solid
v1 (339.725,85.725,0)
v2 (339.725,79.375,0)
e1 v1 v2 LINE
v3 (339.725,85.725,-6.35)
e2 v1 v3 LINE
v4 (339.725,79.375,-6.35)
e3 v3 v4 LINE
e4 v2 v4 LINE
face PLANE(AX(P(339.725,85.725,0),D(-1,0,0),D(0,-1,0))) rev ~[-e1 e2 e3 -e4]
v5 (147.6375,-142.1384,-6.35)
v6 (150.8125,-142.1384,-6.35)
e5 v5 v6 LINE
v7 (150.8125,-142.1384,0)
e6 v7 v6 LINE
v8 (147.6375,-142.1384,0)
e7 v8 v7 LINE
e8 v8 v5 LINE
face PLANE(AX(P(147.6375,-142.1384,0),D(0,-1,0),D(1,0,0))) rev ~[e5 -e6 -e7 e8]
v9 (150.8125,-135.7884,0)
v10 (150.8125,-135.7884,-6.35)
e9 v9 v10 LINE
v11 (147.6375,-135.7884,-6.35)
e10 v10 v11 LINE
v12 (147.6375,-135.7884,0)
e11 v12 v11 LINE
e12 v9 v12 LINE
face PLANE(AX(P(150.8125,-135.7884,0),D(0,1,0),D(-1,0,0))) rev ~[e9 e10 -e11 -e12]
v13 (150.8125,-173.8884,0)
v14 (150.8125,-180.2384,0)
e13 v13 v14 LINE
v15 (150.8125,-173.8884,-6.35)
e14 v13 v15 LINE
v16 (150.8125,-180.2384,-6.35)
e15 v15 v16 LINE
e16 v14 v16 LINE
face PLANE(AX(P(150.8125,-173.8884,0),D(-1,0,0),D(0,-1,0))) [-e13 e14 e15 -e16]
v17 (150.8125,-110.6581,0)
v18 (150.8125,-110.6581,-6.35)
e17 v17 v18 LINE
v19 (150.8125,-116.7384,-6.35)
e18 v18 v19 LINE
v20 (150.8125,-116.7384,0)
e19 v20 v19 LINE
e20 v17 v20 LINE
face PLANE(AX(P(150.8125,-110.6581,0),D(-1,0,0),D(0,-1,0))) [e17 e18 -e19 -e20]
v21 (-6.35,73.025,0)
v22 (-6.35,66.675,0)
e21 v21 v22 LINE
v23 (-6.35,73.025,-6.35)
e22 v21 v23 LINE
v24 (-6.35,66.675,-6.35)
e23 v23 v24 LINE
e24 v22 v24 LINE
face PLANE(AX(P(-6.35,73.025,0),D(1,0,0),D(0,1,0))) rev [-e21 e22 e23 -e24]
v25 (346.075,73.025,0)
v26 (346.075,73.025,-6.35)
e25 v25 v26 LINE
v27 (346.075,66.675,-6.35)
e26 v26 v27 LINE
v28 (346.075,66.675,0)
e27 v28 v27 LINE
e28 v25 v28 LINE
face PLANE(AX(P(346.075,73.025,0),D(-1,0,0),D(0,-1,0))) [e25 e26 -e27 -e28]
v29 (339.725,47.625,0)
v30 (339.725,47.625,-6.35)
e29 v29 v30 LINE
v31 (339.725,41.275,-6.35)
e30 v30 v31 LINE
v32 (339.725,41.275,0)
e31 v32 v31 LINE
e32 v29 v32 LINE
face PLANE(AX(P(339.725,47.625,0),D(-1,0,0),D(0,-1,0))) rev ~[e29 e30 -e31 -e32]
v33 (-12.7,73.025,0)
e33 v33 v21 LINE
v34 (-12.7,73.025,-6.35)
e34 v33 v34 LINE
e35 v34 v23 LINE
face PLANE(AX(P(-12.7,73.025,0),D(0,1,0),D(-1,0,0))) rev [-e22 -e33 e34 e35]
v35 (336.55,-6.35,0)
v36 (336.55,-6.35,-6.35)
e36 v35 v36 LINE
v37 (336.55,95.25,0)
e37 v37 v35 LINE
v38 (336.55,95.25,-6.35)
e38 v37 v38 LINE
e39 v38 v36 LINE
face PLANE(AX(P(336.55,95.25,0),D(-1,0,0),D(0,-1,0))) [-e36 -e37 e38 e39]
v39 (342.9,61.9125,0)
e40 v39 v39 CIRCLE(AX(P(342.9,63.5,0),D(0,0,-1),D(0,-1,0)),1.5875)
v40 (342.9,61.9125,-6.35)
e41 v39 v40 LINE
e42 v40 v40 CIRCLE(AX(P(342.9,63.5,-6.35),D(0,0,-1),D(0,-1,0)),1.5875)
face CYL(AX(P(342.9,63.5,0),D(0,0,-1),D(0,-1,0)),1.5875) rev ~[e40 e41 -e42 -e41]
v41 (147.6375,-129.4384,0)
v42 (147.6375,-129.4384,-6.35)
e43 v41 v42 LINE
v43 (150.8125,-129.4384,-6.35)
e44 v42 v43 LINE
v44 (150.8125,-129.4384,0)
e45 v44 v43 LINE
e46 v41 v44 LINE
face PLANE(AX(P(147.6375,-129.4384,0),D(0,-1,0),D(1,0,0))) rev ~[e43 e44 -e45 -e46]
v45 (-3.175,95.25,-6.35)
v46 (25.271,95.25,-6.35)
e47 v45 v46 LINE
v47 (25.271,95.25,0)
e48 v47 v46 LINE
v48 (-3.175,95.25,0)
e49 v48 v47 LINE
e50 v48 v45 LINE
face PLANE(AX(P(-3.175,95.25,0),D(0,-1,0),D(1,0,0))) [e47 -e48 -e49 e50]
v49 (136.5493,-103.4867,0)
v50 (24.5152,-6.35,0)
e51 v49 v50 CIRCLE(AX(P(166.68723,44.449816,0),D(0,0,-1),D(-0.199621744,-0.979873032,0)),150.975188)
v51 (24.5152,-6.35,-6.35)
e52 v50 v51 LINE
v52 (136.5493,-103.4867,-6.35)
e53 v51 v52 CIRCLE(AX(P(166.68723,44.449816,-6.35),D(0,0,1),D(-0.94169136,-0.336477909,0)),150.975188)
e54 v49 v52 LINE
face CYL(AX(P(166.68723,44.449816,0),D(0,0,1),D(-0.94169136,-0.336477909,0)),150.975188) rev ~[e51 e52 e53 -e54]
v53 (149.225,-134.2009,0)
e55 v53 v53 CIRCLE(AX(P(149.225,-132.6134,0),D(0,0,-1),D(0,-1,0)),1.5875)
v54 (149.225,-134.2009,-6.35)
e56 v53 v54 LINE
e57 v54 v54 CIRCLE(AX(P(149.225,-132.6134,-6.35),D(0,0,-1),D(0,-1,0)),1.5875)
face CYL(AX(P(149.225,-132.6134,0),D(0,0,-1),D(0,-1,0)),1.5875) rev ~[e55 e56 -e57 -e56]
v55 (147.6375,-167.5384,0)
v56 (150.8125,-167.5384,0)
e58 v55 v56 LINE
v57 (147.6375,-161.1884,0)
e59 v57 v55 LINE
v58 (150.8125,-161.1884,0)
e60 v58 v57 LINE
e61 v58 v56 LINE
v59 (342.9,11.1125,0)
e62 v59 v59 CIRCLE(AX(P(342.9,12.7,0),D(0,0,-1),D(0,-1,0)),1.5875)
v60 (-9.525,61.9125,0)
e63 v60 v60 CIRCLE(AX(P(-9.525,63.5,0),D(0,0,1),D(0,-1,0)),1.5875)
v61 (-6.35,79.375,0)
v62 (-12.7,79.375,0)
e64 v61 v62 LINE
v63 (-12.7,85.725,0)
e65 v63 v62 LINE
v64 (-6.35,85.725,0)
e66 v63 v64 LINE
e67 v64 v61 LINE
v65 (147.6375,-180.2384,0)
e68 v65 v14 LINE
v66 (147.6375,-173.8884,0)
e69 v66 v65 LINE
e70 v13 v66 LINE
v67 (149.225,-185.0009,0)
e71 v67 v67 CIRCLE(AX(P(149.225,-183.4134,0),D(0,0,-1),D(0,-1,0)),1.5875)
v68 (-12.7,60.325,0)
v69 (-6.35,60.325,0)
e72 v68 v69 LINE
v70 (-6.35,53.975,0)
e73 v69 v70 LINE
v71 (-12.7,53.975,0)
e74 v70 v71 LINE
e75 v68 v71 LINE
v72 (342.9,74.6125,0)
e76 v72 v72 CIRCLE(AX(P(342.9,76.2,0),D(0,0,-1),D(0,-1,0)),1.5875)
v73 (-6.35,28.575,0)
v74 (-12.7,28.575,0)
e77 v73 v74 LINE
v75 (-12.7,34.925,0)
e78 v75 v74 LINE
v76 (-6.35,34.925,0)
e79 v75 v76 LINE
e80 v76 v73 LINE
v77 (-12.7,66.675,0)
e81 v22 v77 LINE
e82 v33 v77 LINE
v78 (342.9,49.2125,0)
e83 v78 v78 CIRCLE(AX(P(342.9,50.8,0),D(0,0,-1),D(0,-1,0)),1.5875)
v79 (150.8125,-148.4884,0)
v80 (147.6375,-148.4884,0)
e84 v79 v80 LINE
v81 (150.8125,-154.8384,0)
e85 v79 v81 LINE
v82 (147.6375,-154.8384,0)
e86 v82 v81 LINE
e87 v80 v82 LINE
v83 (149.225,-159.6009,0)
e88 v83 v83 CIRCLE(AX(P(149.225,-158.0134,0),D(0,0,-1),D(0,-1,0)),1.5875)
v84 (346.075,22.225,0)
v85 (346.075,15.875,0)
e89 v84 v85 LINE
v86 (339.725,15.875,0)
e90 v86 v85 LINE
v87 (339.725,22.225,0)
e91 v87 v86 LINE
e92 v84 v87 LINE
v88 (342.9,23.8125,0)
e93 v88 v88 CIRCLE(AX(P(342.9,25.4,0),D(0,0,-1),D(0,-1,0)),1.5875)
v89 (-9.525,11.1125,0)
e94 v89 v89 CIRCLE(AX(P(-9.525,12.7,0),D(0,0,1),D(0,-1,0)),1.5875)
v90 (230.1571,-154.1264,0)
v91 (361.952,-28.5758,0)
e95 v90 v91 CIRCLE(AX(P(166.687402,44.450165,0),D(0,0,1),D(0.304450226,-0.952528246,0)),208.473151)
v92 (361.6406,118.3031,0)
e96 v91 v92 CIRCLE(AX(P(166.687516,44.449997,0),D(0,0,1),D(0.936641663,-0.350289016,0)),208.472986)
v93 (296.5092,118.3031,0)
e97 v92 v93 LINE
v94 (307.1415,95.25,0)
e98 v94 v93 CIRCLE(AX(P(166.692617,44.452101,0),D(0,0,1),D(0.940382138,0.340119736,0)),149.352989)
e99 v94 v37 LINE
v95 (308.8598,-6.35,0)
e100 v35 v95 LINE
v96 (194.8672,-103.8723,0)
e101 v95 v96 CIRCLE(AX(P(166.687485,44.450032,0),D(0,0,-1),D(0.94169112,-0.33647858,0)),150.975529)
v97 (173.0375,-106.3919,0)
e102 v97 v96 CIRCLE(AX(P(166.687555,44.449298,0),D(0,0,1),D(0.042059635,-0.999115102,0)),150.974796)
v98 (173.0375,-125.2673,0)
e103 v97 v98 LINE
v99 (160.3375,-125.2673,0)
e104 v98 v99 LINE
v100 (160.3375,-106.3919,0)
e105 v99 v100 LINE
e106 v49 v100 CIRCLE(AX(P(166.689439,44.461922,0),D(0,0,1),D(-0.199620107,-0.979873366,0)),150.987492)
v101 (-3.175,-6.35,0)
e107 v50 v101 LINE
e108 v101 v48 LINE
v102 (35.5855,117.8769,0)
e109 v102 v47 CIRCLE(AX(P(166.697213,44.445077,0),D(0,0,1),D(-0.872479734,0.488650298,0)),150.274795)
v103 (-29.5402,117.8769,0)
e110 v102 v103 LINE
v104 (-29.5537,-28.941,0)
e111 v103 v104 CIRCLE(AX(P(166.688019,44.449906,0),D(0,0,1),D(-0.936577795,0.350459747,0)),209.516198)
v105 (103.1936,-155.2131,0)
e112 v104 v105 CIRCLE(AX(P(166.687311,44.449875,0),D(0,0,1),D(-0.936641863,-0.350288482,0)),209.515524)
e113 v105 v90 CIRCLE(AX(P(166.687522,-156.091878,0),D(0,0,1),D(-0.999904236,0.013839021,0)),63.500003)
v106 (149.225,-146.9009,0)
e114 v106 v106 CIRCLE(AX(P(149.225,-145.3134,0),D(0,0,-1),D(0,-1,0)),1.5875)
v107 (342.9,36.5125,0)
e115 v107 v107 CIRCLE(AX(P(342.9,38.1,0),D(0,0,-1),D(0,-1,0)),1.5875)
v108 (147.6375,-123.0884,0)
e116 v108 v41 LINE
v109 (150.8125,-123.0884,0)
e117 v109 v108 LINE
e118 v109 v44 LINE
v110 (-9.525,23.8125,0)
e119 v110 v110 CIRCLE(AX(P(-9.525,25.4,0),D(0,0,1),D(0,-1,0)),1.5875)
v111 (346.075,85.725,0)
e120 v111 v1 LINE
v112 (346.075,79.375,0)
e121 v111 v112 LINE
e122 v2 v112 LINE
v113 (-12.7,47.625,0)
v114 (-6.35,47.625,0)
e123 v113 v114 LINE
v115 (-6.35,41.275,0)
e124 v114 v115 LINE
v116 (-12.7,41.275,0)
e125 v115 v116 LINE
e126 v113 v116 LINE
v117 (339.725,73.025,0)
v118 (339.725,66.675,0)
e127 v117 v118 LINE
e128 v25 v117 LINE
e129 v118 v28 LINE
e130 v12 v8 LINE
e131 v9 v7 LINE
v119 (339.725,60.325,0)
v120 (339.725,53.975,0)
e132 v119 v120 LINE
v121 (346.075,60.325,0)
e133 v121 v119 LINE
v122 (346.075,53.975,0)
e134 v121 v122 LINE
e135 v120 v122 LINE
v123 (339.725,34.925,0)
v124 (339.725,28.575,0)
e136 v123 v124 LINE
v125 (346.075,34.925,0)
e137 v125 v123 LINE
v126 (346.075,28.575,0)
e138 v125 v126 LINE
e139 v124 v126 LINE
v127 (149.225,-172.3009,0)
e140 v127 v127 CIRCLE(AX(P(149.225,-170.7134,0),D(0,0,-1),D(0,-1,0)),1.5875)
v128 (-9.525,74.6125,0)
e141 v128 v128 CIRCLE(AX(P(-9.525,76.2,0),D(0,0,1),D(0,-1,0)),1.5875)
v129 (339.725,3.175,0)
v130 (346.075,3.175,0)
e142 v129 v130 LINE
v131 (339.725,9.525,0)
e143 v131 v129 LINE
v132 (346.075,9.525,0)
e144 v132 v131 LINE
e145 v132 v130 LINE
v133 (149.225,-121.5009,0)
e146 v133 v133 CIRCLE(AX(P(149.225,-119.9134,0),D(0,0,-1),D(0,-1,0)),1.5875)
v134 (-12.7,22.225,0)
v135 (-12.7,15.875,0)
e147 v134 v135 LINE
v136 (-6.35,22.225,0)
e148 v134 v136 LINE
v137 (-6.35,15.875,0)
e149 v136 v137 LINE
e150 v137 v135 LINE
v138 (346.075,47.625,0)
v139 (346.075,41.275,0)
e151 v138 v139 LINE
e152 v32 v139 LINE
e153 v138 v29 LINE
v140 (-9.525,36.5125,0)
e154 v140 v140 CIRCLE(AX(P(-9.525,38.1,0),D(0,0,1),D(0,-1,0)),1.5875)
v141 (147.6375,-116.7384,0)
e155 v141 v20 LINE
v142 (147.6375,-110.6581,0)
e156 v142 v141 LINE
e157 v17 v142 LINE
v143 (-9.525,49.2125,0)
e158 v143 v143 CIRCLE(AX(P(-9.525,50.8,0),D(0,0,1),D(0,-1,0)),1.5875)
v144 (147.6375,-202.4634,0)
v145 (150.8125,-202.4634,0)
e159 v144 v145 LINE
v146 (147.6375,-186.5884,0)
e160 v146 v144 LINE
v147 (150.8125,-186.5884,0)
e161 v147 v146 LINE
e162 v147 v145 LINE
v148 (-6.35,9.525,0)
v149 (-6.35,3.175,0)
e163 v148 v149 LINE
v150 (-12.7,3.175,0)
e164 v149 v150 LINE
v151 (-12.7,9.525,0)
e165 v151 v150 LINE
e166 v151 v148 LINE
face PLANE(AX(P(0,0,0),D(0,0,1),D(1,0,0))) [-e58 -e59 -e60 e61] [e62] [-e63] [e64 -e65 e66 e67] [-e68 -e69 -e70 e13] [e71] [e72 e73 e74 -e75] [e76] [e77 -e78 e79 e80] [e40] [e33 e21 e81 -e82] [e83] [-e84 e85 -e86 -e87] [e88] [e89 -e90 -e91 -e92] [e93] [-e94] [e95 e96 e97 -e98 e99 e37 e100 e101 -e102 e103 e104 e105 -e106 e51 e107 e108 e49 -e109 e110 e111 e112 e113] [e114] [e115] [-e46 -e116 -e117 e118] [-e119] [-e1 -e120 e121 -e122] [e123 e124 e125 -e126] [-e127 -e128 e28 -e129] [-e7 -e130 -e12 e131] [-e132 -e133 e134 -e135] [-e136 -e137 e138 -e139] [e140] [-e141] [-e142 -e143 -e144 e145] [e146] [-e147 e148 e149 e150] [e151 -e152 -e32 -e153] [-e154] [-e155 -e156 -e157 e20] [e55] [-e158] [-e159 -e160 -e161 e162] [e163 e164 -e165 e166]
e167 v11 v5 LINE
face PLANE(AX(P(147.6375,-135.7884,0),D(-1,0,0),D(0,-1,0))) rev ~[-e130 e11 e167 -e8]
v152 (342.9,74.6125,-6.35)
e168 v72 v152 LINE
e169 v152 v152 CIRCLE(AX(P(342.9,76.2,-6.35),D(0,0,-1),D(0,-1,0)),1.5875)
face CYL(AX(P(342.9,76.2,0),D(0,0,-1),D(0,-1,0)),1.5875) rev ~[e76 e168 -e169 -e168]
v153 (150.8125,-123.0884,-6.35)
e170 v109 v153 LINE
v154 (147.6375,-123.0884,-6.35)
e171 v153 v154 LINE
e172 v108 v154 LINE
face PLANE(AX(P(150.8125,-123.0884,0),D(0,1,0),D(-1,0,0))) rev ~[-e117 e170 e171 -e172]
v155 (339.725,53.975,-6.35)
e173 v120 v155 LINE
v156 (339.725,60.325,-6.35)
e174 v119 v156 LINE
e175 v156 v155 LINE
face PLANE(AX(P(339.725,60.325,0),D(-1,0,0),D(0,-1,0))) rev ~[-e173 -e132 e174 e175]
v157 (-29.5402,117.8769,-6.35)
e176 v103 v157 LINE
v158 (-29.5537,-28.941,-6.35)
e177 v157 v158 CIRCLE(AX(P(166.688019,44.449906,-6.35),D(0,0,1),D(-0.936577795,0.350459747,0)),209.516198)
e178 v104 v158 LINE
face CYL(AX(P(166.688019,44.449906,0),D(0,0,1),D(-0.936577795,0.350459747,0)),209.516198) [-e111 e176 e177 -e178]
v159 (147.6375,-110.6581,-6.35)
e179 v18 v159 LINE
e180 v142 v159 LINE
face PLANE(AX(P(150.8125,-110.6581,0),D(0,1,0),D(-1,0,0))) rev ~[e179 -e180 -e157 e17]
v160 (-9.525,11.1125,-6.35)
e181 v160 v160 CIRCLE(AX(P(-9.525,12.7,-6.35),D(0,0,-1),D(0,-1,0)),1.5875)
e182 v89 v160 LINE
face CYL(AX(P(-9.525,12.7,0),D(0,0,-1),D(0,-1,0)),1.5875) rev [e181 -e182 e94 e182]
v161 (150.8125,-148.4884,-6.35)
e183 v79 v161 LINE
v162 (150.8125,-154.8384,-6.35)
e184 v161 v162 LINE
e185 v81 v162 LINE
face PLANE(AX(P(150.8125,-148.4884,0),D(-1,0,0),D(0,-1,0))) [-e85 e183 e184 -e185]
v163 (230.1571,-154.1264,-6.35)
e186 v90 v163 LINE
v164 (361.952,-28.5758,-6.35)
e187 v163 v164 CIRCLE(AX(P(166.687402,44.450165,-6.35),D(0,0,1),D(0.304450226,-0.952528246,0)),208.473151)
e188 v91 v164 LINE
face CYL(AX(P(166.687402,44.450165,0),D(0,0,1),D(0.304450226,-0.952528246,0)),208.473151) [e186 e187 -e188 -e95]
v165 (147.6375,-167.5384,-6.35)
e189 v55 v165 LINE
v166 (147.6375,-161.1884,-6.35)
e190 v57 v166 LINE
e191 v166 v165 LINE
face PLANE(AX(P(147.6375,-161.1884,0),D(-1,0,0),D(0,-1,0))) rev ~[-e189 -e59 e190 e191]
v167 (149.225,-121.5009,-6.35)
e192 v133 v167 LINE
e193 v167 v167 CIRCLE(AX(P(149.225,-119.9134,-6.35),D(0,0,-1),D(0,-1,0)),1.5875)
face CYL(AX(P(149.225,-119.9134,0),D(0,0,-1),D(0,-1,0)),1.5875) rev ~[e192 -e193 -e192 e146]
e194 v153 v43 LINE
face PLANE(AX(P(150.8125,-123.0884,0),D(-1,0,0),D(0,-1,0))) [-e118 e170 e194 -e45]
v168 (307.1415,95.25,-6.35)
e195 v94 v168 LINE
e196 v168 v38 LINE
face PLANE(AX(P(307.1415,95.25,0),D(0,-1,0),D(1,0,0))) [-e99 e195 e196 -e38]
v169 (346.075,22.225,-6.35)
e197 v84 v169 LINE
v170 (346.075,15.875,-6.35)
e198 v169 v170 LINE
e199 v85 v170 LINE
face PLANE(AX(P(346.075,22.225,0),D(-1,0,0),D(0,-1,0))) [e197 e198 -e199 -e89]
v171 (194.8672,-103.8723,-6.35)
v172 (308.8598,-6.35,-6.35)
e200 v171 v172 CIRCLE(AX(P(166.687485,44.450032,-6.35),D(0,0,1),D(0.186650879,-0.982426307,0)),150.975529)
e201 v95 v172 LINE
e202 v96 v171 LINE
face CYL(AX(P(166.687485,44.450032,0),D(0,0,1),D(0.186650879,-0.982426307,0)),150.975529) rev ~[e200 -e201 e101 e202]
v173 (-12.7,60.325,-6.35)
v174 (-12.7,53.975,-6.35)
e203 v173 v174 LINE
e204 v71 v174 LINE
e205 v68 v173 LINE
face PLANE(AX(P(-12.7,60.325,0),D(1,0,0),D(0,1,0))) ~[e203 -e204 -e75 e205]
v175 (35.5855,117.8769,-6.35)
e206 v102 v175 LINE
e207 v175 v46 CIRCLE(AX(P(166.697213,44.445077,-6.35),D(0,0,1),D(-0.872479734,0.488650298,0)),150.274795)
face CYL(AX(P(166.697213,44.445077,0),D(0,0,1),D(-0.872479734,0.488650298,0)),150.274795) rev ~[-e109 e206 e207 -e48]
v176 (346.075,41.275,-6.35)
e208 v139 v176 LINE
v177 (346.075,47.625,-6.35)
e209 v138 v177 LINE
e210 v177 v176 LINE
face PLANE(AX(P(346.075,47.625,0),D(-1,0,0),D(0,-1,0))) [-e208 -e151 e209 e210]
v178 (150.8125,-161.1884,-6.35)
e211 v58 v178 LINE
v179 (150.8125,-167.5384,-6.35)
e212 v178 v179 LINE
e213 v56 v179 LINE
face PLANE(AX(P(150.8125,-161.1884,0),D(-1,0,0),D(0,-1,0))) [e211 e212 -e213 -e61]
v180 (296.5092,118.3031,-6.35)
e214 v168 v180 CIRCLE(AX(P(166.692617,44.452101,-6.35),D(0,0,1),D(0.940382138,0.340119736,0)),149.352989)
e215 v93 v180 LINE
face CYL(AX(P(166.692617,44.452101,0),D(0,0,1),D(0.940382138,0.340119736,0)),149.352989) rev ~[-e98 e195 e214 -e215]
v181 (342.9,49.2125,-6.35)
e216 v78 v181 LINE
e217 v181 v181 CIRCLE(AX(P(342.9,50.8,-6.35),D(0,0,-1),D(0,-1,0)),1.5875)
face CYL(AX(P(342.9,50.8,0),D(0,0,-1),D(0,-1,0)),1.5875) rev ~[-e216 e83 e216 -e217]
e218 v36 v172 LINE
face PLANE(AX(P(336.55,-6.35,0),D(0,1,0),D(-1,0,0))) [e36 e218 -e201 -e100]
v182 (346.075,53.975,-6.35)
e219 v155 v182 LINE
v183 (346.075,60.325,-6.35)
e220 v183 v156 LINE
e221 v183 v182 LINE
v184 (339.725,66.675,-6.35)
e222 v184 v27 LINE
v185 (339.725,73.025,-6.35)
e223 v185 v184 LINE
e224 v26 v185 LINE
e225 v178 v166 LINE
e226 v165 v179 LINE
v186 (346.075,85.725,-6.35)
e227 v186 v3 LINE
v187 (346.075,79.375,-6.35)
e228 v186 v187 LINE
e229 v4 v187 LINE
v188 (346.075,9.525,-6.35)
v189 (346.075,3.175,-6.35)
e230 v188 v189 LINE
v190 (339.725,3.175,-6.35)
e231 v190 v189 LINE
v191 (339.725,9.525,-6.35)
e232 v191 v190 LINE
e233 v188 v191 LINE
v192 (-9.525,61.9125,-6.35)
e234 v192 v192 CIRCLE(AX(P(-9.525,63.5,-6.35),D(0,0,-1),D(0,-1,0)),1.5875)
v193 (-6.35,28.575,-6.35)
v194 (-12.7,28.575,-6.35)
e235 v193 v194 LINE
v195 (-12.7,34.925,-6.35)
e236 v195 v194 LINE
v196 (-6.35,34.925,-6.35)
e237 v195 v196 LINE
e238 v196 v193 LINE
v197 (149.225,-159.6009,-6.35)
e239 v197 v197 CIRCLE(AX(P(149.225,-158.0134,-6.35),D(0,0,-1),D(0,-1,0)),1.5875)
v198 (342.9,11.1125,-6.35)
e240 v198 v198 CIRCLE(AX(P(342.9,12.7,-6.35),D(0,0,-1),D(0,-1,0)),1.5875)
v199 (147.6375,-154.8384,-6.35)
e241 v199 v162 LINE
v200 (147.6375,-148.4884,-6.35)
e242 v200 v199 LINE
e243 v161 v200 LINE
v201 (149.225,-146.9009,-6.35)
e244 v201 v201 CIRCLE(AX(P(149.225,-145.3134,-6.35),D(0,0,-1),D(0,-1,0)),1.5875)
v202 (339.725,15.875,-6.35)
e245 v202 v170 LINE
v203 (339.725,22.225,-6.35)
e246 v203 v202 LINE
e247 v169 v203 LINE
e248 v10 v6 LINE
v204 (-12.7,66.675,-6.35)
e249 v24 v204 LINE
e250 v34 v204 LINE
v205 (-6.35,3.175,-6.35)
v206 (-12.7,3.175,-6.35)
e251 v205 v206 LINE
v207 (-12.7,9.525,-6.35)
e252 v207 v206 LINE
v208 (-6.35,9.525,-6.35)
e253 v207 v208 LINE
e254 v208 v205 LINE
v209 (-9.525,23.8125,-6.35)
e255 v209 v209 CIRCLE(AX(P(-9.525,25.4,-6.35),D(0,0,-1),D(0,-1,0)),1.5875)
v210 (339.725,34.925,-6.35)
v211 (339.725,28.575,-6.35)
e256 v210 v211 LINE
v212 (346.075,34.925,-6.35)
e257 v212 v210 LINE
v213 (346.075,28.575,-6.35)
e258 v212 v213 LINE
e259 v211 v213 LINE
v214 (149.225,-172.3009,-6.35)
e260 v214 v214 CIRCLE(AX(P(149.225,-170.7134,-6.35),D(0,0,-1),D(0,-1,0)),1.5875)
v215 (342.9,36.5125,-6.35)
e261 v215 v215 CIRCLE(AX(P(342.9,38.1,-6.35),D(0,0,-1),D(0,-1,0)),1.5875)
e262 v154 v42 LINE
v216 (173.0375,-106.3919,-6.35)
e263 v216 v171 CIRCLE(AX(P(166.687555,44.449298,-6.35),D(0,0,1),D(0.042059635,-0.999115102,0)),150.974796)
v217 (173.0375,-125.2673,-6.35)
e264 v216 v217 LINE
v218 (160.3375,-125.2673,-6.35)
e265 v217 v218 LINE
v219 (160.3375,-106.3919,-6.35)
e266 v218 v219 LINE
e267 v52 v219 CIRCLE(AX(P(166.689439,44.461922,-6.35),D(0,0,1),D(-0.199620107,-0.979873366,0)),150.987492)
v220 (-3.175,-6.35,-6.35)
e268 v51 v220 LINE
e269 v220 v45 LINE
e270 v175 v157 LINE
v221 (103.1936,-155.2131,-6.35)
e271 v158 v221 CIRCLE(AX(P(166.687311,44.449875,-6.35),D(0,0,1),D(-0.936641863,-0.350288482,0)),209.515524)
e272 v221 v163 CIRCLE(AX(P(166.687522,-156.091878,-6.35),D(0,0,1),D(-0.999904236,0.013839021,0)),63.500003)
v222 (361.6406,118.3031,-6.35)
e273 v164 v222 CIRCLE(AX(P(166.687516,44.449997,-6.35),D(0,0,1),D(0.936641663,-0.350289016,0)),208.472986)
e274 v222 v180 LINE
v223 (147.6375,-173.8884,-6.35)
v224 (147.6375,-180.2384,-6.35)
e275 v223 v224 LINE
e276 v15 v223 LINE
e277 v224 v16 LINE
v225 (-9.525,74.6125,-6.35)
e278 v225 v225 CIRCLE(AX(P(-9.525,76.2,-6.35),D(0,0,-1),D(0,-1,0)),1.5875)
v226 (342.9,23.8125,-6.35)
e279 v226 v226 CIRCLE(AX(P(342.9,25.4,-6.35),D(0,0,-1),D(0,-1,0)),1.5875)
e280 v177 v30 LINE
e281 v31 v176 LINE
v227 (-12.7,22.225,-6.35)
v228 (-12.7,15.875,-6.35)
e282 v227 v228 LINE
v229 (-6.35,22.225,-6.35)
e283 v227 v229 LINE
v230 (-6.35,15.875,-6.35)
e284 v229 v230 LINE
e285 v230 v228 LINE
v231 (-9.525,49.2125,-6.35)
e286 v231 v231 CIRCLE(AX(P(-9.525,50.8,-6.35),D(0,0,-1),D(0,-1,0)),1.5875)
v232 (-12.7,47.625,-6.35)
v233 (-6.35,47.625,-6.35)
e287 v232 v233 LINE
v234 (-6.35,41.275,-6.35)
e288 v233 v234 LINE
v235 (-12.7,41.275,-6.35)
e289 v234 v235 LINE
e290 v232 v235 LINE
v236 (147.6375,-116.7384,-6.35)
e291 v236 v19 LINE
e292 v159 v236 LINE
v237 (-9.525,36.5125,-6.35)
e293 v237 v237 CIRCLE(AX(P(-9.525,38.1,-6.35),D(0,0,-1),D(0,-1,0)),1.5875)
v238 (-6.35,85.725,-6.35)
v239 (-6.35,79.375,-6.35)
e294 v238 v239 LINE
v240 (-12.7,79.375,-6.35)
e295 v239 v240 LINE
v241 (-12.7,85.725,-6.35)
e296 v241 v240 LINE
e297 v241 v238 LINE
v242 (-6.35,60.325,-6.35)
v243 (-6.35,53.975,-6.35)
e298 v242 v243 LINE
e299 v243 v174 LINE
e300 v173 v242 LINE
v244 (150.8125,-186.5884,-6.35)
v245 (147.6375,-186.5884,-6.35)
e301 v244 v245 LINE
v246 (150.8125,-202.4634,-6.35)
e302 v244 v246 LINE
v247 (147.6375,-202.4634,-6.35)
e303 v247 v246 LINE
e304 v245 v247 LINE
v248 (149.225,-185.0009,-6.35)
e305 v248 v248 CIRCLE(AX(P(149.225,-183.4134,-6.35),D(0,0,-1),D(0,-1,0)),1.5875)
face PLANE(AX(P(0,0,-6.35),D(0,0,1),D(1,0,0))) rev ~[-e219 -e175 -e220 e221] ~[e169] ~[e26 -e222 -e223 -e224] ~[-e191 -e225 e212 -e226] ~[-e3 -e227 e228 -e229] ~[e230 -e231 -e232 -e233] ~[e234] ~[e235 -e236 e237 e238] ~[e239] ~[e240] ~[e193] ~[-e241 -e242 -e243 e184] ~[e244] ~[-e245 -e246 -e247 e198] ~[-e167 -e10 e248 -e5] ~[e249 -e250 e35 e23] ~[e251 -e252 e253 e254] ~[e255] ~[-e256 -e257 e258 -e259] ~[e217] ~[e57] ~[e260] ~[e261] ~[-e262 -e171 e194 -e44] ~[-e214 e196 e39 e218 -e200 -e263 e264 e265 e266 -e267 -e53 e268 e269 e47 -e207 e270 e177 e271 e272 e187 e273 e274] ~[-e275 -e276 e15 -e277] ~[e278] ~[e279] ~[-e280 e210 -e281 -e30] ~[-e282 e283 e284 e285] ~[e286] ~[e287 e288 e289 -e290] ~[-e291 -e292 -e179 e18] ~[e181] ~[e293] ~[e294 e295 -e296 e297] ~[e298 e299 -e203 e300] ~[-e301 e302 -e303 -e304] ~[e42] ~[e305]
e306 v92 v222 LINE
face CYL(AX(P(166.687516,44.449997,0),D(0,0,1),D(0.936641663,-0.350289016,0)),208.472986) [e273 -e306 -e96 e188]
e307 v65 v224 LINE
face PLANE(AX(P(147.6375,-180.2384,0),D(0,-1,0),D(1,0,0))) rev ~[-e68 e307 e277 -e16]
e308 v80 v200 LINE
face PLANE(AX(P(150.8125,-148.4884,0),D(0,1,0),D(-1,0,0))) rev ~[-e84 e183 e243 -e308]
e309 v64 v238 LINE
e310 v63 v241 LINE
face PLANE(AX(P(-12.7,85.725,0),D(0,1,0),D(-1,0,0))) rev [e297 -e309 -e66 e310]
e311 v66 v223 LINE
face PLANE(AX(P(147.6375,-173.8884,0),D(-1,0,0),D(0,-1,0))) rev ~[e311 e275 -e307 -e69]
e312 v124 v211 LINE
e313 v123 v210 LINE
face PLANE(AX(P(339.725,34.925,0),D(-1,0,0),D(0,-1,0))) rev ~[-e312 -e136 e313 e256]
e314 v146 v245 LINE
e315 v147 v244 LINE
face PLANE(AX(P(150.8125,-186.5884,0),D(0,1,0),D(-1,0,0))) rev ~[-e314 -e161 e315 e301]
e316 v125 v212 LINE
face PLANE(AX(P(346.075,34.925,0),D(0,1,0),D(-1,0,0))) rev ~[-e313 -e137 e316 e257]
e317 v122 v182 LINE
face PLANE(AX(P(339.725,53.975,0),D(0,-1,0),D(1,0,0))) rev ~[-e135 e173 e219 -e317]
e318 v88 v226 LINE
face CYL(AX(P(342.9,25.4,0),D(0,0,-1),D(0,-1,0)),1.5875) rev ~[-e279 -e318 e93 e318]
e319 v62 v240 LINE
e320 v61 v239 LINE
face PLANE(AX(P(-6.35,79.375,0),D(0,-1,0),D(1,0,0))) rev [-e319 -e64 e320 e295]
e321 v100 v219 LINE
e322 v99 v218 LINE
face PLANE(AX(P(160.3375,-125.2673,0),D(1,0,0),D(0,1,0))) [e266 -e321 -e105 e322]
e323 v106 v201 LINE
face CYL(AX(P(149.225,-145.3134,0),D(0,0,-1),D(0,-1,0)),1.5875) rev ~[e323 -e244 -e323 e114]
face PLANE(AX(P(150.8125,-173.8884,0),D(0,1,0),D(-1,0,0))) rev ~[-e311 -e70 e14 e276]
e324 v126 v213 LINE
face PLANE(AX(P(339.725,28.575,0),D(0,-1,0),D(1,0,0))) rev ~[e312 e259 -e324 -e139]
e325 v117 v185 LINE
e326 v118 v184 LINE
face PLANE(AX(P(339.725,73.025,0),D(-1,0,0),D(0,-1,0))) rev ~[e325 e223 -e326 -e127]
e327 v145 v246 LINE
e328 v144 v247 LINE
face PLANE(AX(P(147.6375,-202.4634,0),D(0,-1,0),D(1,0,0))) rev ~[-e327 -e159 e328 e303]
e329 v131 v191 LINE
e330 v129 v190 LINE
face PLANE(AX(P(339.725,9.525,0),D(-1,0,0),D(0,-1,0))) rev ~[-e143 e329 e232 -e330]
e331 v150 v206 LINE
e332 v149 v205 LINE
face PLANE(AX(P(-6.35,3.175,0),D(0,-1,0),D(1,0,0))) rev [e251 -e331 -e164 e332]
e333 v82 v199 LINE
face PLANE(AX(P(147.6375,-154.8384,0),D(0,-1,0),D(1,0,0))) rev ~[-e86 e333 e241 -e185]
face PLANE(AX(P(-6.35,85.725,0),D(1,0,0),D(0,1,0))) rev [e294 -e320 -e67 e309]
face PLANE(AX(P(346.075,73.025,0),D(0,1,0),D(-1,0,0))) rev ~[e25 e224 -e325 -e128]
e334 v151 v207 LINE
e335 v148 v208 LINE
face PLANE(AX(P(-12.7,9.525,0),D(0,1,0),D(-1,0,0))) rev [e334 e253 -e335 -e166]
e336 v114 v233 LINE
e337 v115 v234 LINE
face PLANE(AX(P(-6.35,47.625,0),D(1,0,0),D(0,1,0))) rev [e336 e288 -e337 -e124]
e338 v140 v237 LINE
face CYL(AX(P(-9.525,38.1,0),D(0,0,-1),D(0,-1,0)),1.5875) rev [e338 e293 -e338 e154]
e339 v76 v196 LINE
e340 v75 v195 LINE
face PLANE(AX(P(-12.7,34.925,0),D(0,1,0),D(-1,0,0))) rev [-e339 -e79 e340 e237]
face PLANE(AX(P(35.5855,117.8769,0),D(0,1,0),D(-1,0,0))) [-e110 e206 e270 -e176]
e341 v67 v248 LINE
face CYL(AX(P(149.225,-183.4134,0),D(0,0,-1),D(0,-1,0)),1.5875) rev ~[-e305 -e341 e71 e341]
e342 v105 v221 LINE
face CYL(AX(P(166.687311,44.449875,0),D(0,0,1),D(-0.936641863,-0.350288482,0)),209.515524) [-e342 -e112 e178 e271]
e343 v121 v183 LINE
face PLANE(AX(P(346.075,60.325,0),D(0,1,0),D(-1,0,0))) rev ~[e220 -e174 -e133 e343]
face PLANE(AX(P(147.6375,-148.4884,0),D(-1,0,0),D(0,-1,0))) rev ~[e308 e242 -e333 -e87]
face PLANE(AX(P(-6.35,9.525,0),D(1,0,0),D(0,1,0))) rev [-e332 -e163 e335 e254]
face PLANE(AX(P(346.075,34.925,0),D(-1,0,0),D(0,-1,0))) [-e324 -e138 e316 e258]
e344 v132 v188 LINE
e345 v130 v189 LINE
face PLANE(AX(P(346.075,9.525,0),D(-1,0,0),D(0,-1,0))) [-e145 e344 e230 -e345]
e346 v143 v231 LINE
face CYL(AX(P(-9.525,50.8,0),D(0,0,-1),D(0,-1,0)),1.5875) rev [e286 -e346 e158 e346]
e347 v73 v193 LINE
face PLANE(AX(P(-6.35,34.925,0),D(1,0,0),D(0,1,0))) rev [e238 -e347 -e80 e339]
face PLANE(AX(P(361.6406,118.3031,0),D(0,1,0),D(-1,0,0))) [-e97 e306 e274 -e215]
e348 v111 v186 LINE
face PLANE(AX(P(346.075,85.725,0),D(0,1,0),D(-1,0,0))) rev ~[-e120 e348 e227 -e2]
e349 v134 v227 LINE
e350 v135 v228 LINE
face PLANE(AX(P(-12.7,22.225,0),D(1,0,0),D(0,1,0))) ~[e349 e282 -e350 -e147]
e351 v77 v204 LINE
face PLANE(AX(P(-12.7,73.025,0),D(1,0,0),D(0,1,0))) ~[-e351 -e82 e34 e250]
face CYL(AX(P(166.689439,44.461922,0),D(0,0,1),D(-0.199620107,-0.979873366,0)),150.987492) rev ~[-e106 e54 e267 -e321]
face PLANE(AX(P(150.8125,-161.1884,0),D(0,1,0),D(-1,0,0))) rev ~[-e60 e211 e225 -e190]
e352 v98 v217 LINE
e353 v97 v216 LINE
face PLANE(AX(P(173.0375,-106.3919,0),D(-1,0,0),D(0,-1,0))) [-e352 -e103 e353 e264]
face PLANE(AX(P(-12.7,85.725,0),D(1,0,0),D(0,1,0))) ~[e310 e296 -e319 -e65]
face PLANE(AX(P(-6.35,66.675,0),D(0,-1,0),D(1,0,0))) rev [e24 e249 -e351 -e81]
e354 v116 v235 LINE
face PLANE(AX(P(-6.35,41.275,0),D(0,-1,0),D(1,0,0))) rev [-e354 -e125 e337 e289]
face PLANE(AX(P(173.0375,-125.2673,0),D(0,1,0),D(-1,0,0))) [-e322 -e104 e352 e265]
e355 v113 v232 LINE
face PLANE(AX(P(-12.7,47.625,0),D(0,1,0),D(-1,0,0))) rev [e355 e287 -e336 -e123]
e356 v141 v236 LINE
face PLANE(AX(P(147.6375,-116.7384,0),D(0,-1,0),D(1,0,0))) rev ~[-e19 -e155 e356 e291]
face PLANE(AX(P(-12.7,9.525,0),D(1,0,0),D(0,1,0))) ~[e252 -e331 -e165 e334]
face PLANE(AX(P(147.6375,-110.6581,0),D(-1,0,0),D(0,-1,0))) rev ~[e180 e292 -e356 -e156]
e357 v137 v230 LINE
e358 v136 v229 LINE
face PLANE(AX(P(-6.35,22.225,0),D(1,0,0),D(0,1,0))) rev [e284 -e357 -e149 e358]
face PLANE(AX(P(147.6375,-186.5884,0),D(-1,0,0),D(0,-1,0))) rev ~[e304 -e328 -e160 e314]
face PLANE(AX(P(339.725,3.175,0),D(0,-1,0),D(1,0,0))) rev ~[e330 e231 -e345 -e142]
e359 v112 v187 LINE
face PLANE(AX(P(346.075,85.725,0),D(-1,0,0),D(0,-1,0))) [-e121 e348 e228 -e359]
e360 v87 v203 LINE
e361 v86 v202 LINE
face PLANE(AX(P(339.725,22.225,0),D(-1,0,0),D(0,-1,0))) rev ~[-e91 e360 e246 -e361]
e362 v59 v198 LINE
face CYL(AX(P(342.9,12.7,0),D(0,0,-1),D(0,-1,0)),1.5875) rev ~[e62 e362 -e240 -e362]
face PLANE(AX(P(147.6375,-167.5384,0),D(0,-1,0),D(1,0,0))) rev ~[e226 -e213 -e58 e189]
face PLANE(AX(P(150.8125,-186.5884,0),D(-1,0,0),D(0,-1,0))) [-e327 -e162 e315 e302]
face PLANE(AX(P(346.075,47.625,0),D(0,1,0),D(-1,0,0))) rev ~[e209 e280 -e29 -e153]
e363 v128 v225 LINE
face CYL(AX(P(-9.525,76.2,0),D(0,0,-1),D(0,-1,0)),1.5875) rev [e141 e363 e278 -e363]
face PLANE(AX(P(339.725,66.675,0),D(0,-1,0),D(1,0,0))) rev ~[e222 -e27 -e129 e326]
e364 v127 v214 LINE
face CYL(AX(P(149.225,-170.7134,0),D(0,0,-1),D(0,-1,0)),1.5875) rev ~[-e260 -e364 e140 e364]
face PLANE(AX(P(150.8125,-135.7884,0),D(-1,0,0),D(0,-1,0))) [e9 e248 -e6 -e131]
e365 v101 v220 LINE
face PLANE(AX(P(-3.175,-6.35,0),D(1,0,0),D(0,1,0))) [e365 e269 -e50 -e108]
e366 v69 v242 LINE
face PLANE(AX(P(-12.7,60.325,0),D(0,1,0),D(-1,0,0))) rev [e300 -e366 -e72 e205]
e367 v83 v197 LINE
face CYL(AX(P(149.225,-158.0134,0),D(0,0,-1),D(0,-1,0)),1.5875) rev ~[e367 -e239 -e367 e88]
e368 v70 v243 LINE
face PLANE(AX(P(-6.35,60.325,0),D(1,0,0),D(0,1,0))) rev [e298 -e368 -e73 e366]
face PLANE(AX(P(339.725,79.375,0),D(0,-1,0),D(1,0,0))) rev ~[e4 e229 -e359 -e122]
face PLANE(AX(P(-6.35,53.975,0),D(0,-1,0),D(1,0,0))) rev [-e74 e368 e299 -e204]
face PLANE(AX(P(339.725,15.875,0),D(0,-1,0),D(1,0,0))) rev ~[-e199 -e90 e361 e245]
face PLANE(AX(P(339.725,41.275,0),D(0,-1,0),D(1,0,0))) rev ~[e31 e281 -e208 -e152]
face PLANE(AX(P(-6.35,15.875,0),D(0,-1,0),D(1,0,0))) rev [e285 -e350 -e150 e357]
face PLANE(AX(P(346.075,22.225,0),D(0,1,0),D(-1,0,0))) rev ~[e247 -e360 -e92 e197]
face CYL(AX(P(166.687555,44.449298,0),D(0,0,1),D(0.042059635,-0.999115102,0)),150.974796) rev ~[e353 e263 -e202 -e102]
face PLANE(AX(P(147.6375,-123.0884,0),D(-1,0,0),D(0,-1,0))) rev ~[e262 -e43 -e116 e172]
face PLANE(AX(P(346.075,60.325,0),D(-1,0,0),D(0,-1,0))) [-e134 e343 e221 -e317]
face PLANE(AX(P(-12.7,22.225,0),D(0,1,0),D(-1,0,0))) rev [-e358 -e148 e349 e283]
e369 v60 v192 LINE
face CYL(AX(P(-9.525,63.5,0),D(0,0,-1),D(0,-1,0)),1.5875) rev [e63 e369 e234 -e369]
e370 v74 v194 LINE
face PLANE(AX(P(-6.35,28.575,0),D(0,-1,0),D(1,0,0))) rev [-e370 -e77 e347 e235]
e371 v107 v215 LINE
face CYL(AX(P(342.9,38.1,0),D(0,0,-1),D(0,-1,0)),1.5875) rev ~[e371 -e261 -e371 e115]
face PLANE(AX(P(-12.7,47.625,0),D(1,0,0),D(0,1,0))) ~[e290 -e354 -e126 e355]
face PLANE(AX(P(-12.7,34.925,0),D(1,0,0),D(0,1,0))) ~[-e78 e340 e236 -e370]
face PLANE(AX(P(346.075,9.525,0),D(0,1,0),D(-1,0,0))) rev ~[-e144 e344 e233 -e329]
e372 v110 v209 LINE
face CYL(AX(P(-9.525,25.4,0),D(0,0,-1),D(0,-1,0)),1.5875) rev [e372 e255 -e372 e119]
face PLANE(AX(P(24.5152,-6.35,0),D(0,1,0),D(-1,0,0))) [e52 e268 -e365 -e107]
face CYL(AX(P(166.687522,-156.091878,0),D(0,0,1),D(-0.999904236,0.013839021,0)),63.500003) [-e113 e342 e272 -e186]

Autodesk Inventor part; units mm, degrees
ref_plane "YZ Plane" through (0, 0, 0) normal (1, 0, 0) x (0, 1, 0)
ref_plane "XZ Plane" through (0, 0, 0) normal (0, 1, 0) x (-1, 0, 0)
ref_plane "Work Plane1" through (0, 0, 0) normal (0, 0, 1) x (1, 0, 0)
sketch "Sketch1" plane through (0, 0, 0) normal (0, 0, 1) x (1, 0, 0)
  circle A0 centre (166.6875, 44.45) radius 6.35 construction
  line L0 (0, 0) -> (333.375, 0) construction
  line L1 (333.375, 0) -> (333.375, 88.9) construction
  line L2 (0, 88.9) -> (333.375, 88.9) construction
  line L3 (0, 0) -> (0, 88.9) construction
  line L4 (336.55, 95.25) -> (336.55, -6.35)
  line L5 (-3.175, -6.35) -> (-3.175, 95.25)
  arc A1 (361.952, -28.5758) -> (361.6406, 118.3031) centre (166.6875, 44.45) ccw
  arc A2 (109.447, -157.0949) -> (223.6431, -156.0919) centre (166.5241, -154.21) ccw
  arc A3 (223.6431, -156.0919) -> (230.1571, -154.1264) centre (166.6875, 44.45) ccw
  arc A4 (-29.5537, -28.941) -> (103.1936, -155.2131) centre (166.6875, 44.45) ccw
  arc A5 (-29.5402, 117.8769) -> (-29.5537, -28.941) centre (166.6875, 44.45) ccw
  arc A6 (336.55, 165.3087) -> (333.375, 169.6513) centre (166.6875, 44.45) ccw
  arc A7 (0, 169.6513) -> (-3.175, 165.3087) centre (166.6875, 44.45) ccw
  line L6 (361.6406, 118.3031) -> (296.5092, 118.3031)
  line L7 (35.5855, 117.8769) -> (-29.5402, 117.8769)
  arc A8 (194.8672, -103.8723) -> (308.8598, -6.35) centre (166.6875, 44.45) ccw
  arc A9 (307.1415, 95.25) -> (296.5092, 118.3031) centre (166.6875, 44.45) ccw
  arc A10 (35.5855, 117.8769) -> (25.271, 95.25) centre (166.6875, 44.45) ccw
  arc A11 (24.5152, -6.35) -> (136.5493, -103.4867) centre (166.6875, 44.45) ccw
  line L8 (-3.175, 95.25) -> (25.271, 95.25)
  line L9 (307.1415, 95.25) -> (336.55, 95.25)
  line L10 (336.55, -6.35) -> (308.8598, -6.35)
  line L11 (24.5152, -6.35) -> (-3.175, -6.35)
  line L12 (173.0375, -106.3919) -> (173.0375, -125.2673)
  line L13 (173.0375, -125.2673) -> (160.3375, -125.2673)
  line L14 (160.3375, -125.2673) -> (160.3375, -106.3919)
  line L15 (163.5125, -117.9837) -> (169.8625, -117.9837) projected
  line L16 (166.6875, 44.45) -> (38.9307, -83.3068) projected
  arc A12 (136.5493, -103.4867) -> (160.3375, -106.3919) centre (166.6875, 44.45) ccw
  arc A13 (173.0375, -106.3919) -> (194.8672, -103.8723) centre (166.6875, 44.45) ccw
  arc A14 (230.1571, -154.1264) -> (103.1936, -155.2131) centre (166.6875, -156.0919) ccw
  arc A15 (230.1571, -154.1264) -> (361.952, -28.5758) centre (166.6875, 44.45) ccw
  arc A16 (103.1936, -155.2131) -> (109.447, -157.0949) centre (166.6875, 44.45) ccw
  arc A17 (103.1936, -155.2131) -> (230.1571, -154.1264) centre (166.6875, -156.0919) ccw
  point P0 (166.6875, -117.9837)
  dimension "d0" = 3.175
  dimension "d5" = 6.35
  dimension "d6" = 6.35
  dimension "d7" = 6.35
  dimension "d8" = 6.35
  dimension "d9" = 3.175
  dimension "d10" = 3.175
  dimension "d11" = 6.35
  dimension "d12" = 6.35
  dimension "d47" = 127
extrude "Extrusion1" add sketch "Sketch1" against normal blind 6.35 contours L9 A9 L6 A1 A15 A14 A8 L10 L4 | A14 A3 A2 A16 A11 A12 L14 L13 L12 A13 A8 | A17 A16 A2 A3 | A14 A4 A5 L7 A10 L8 L5 L11 A11
sketch "Sketch2" plane through (0, 0, 0) normal (0, 0, 1) x (1, 0, 0)
  line L0 (339.725, 79.375) -> (346.075, 79.375) projected
  line L1 (346.075, 85.725) -> (346.075, 79.375) projected
  line L2 (346.075, 85.725) -> (339.725, 85.725) projected
  line L3 (339.725, 85.725) -> (339.725, 79.375) projected
  line L4 (339.725, 66.675) -> (346.075, 66.675) projected
  line L5 (346.075, 73.025) -> (346.075, 66.675) projected
  line L6 (346.075, 73.025) -> (339.725, 73.025) projected
  line L7 (339.725, 73.025) -> (339.725, 66.675) projected
  line L8 (339.725, 53.975) -> (346.075, 53.975) projected
  line L9 (346.075, 60.325) -> (346.075, 53.975) projected
  line L10 (346.075, 60.325) -> (339.725, 60.325) projected
  line L11 (339.725, 60.325) -> (339.725, 53.975) projected
  line L12 (346.075, 47.625) -> (339.725, 47.625) projected
  line L13 (339.725, 47.625) -> (339.725, 41.275) projected
  line L14 (339.725, 41.275) -> (346.075, 41.275) projected
  line L15 (346.075, 47.625) -> (346.075, 41.275) projected
  line L16 (346.075, 34.925) -> (339.725, 34.925) projected
  line L17 (339.725, 34.925) -> (339.725, 28.575) projected
  line L18 (339.725, 28.575) -> (346.075, 28.575) projected
  line L19 (346.075, 34.925) -> (346.075, 28.575) projected
  line L20 (346.075, 22.225) -> (339.725, 22.225) projected
  line L21 (339.725, 22.225) -> (339.725, 15.875) projected
  line L22 (339.725, 15.875) -> (346.075, 15.875) projected
  line L23 (346.075, 22.225) -> (346.075, 15.875) projected
  line L24 (346.075, 9.525) -> (339.725, 9.525) projected
  line L25 (339.725, 9.525) -> (339.725, 3.175) projected
  line L26 (339.725, 3.175) -> (346.075, 3.175) projected
  line L27 (346.075, 9.525) -> (346.075, 3.175) projected
  point P0 (0, 0)
extrude "Extrusion2" cut sketch "Sketch2" against normal blind 6.35
sketch "Sketch3" plane through (0, 0, 0) normal (0, 0, 1) x (1, 0, 0)
  line L0 (339.725, 15.875) -> (346.075, 9.525) construction
  line L1 (346.075, 15.875) -> (339.725, 9.525) construction
  point P0 (0, 0)
  point P1 (342.9, 12.7)
hole "Hole1" at (342.9, 12.7, 0) direction (0, 0, -1) diameter 3.175 end through all
pattern_linear "Rectangular Pattern1" count 6 spacing 12.7 along (0, 1, 0) of "Hole1"
ref_plane "Work Plane2" through (166.6875, -125.2673, 0) normal (1, 0, 0) x (0, 0, -1)
mirror "Mirror1" about plane through (166.6875, -125.2673, 0) normal (1, 0, 0) of "Extrusion2", "Hole1", "Rectangular Pattern1"
sketch "Sketch5" plane through (0, 0, 0) normal (0, 0, 1) x (1, 0, 0)
  line L0 (150.8125, -110.6581) -> (147.6375, -110.6581)
  line L1 (147.6375, -110.6581) -> (147.6375, -116.7384)
  line L2 (147.6375, -116.7384) -> (150.8125, -116.7384)
  line L3 (150.8125, -110.6581) -> (150.8125, -116.7384)
  line L4 (147.6375, -129.4384) -> (150.8125, -129.4384)
  line L5 (150.8125, -123.0884) -> (150.8125, -129.4384)
  line L6 (150.8125, -123.0884) -> (147.6375, -123.0884)
  line L7 (147.6375, -123.0884) -> (147.6375, -129.4384)
  line L8 (150.8125, -135.7884) -> (147.6375, -135.7884)
  line L9 (147.6375, -135.7884) -> (147.6375, -142.1384)
  line L10 (147.6375, -142.1384) -> (150.8125, -142.1384)
  line L11 (150.8125, -135.7884) -> (150.8125, -142.1384)
  line L12 (147.6375, -154.8384) -> (150.8125, -154.8384)
  line L13 (150.8125, -148.4884) -> (150.8125, -154.8384)
  line L14 (150.8125, -148.4884) -> (147.6375, -148.4884)
  line L15 (147.6375, -148.4884) -> (147.6375, -154.8384)
  line L16 (150.8125, -161.1884) -> (147.6375, -161.1884)
  line L17 (147.6375, -161.1884) -> (147.6375, -167.5384)
  line L18 (147.6375, -167.5384) -> (150.8125, -167.5384)
  line L19 (150.8125, -161.1884) -> (150.8125, -167.5384)
  line L20 (147.6375, -180.2384) -> (150.8125, -180.2384)
  line L21 (150.8125, -173.8884) -> (150.8125, -180.2384)
  line L22 (150.8125, -173.8884) -> (147.6375, -173.8884)
  line L23 (147.6375, -173.8884) -> (147.6375, -180.2384)
  line L24 (150.8125, -186.5884) -> (147.6375, -186.5884)
  line L25 (147.6375, -186.5884) -> (147.6375, -202.4634)
  line L26 (147.6375, -202.4634) -> (150.8125, -202.4634)
  line L27 (150.8125, -186.5884) -> (150.8125, -202.4634)
  point P0 (0, 0)
extrude "Extrusion3" cut sketch "Sketch5" against normal through all
sketch "Sketch6" plane through (0, 0, 0) normal (0, 0, 1) x (1, 0, 0)
  line L0 (150.8125, -173.8884) -> (150.8125, -180.2384) construction
  line L1 (150.8125, -180.2384) -> (147.6375, -180.2384) construction
  line L2 (147.6375, -180.2384) -> (147.6375, -173.8884) construction
  line L3 (147.6375, -173.8884) -> (150.8125, -173.8884) construction
  line L4 (150.8125, -148.4884) -> (150.8125, -154.8384) construction
  line L5 (150.8125, -154.8384) -> (147.6375, -154.8384) construction
  line L6 (147.6375, -154.8384) -> (147.6375, -148.4884) construction
  line L7 (147.6375, -148.4884) -> (150.8125, -148.4884) construction
  line L8 (150.8125, -123.0884) -> (150.8125, -129.4384) construction
  line L9 (150.8125, -129.4384) -> (147.6375, -129.4384) construction
  line L10 (147.6375, -129.4384) -> (147.6375, -123.0884) construction
  line L11 (147.6375, -123.0884) -> (150.8125, -123.0884) construction
  line L12 (147.6375, -116.7384) -> (147.6375, -110.6581) construction
  line L13 (147.6375, -110.6581) -> (150.8125, -110.6581) construction
  line L14 (150.8125, -110.6581) -> (150.8125, -116.7384) construction
  line L15 (150.8125, -116.7384) -> (147.6375, -116.7384) construction
  line L16 (147.6375, -142.1384) -> (147.6375, -135.7884) construction
  line L17 (147.6375, -135.7884) -> (150.8125, -135.7884) construction
  line L18 (150.8125, -135.7884) -> (150.8125, -142.1384) construction
  line L19 (150.8125, -142.1384) -> (147.6375, -142.1384) construction
  line L20 (147.6375, -167.5384) -> (147.6375, -161.1884) construction
  line L21 (147.6375, -161.1884) -> (150.8125, -161.1884) construction
  line L22 (150.8125, -161.1884) -> (150.8125, -167.5384) construction
  line L23 (150.8125, -167.5384) -> (147.6375, -167.5384) construction
  line L24 (147.6375, -202.4634) -> (147.6375, -186.5884) construction
  line L25 (147.6375, -186.5884) -> (150.8125, -186.5884) construction
  line L26 (150.8125, -186.5884) -> (150.8125, -202.4634) construction
  line L27 (150.8125, -202.4634) -> (147.6375, -202.4634) construction
  circle A0 centre (-9.525, 76.2) radius 1.5875 construction
  circle A1 centre (-9.525, 63.5) radius 1.5875 construction
  circle A2 centre (-9.525, 50.8) radius 1.5875 construction
  circle A3 centre (-9.525, 38.1) radius 1.5875 construction
  circle A4 centre (-9.525, 25.4) radius 1.5875 construction
  line L28 (-6.35, 9.525) -> (-6.35, 3.175) construction
  line L29 (-6.35, 3.175) -> (-12.7, 3.175) construction
  line L30 (-12.7, 3.175) -> (-12.7, 9.525) construction
  line L31 (-12.7, 9.525) -> (-6.35, 9.525) construction
  line L32 (-6.35, 34.925) -> (-6.35, 28.575) construction
  line L33 (-6.35, 28.575) -> (-12.7, 28.575) construction
  line L34 (-12.7, 28.575) -> (-12.7, 34.925) construction
  line L35 (-12.7, 34.925) -> (-6.35, 34.925) construction
  line L36 (-12.7, 53.975) -> (-12.7, 60.325) construction
  line L37 (-12.7, 60.325) -> (-6.35, 60.325) construction
  line L38 (-6.35, 60.325) -> (-6.35, 53.975) construction
  line L39 (-6.35, 53.975) -> (-12.7, 53.975) construction
  line L40 (-12.7, 79.375) -> (-12.7, 85.725) construction
  line L41 (-12.7, 85.725) -> (-6.35, 85.725) construction
  line L42 (-6.35, 85.725) -> (-6.35, 79.375) construction
  line L43 (-6.35, 79.375) -> (-12.7, 79.375) construction
  line L44 (-12.7, 66.675) -> (-12.7, 73.025) construction
  line L45 (-12.7, 73.025) -> (-6.35, 73.025) construction
  line L46 (-6.35, 73.025) -> (-6.35, 66.675) construction
  line L47 (-6.35, 66.675) -> (-12.7, 66.675) construction
  line L48 (-6.35, 47.625) -> (-6.35, 41.275) construction
  line L49 (-6.35, 41.275) -> (-12.7, 41.275) construction
  line L50 (-12.7, 41.275) -> (-12.7, 47.625) construction
  line L51 (-12.7, 47.625) -> (-6.35, 47.625) construction
  line L52 (-6.35, 22.225) -> (-6.35, 15.875) construction
  line L53 (-6.35, 15.875) -> (-12.7, 15.875) construction
  line L54 (-12.7, 15.875) -> (-12.7, 22.225) construction
  line L55 (-12.7, 22.225) -> (-6.35, 22.225) construction
  circle A5 centre (-9.525, 12.7) radius 1.5875 construction
  circle A6 centre (342.9, 76.2) radius 1.5875 construction
  circle A7 centre (342.9, 63.5) radius 1.5875 construction
  circle A8 centre (342.9, 50.8) radius 1.5875 construction
  circle A9 centre (342.9, 38.1) radius 1.5875 construction
  circle A10 centre (342.9, 25.4) radius 1.5875 construction
  circle A11 centre (342.9, 12.7) radius 1.5875 construction
  line L56 (339.725, 15.875) -> (339.725, 22.225) construction
  line L57 (339.725, 22.225) -> (346.075, 22.225) construction
  line L58 (346.075, 22.225) -> (346.075, 15.875) construction
  line L59 (346.075, 15.875) -> (339.725, 15.875) construction
  line L60 (339.725, 41.275) -> (339.725, 47.625) construction
  line L61 (339.725, 47.625) -> (346.075, 47.625) construction
  line L62 (346.075, 47.625) -> (346.075, 41.275) construction
  line L63 (346.075, 41.275) -> (339.725, 41.275) construction
  line L64 (346.075, 73.025) -> (346.075, 66.675) construction
  line L65 (346.075, 66.675) -> (339.725, 66.675) construction
  line L66 (339.725, 66.675) -> (339.725, 73.025) construction
  line L67 (339.725, 73.025) -> (346.075, 73.025) construction
  line L68 (346.075, 85.725) -> (346.075, 79.375) construction
  line L69 (346.075, 79.375) -> (339.725, 79.375) construction
  line L70 (339.725, 79.375) -> (339.725, 85.725) construction
  line L71 (339.725, 85.725) -> (346.075, 85.725) construction
  line L72 (346.075, 60.325) -> (346.075, 53.975) construction
  line L73 (346.075, 53.975) -> (339.725, 53.975) construction
  line L74 (339.725, 53.975) -> (339.725, 60.325) construction
  line L75 (339.725, 60.325) -> (346.075, 60.325) construction
  line L76 (339.725, 28.575) -> (339.725, 34.925) construction
  line L77 (339.725, 34.925) -> (346.075, 34.925) construction
  line L78 (346.075, 34.925) -> (346.075, 28.575) construction
  line L79 (346.075, 28.575) -> (339.725, 28.575) construction
  line L80 (339.725, 3.175) -> (339.725, 9.525) construction
  line L81 (339.725, 9.525) -> (346.075, 9.525) construction
  line L82 (346.075, 9.525) -> (346.075, 3.175) construction
  line L83 (346.075, 3.175) -> (339.725, 3.175) construction
  line L84 (336.55, 95.25) -> (336.55, -6.35) construction
  line L85 (336.55, -6.35) -> (308.8598, -6.35) construction
  arc A12 (173.0375, -106.3919) -> (308.8598, -6.35) centre (166.6875, 44.45) ccw construction
  line L86 (173.0375, -106.3919) -> (173.0375, -125.2673) construction
  line L87 (173.0375, -125.2673) -> (160.3375, -125.2673) construction
  line L88 (160.3375, -125.2673) -> (160.3375, -106.3919) construction
  arc A13 (24.5152, -6.35) -> (160.3375, -106.3919) centre (166.6875, 44.45) ccw construction
  line L89 (24.5152, -6.35) -> (-3.175, -6.35) construction
  line L90 (-3.175, -6.35) -> (-3.175, 95.25) construction
  line L91 (-3.175, 95.25) -> (25.271, 95.25) construction
  arc A14 (35.5855, 117.8769) -> (25.271, 95.25) centre (166.6875, 44.45) ccw construction
  line L92 (35.5855, 117.8769) -> (-29.5402, 117.8769) construction
  arc A15 (-29.5402, 117.8769) -> (103.1936, -155.2131) centre (166.6875, 44.45) ccw construction
  arc A16 (230.1571, -154.1264) -> (361.6406, 118.3031) centre (166.6875, 44.45) ccw construction
  line L93 (361.6406, 118.3031) -> (296.5092, 118.3031) construction
  arc A17 (307.1415, 95.25) -> (296.5092, 118.3031) centre (166.6875, 44.45) ccw construction
  line L94 (307.1415, 95.25) -> (336.55, 95.25) construction
  line L95 (147.6375, -180.2384) -> (150.8125, -186.5884) construction
  line L96 (147.6375, -186.5884) -> (150.8125, -180.2384) construction
  arc A18 (103.1936, -155.2131) -> (230.1571, -154.1264) centre (166.6875, -156.0919) ccw projected
  point P0 (0, 0)
  point P1 (149.225, -183.4134)
hole "Hole2" at (149.225, -183.4134, 0) direction (0, 0, -1) diameter 3.175 end through all
pattern_linear "Rectangular Pattern2" count 6 spacing 12.7 along (0, 1, 0) of "Hole2"
equation "\"d6\" = d5"
equation "\"d7\" = d5"
equation "\"d8\" = d5"
equation "\"d10\" = d9"
properties part number "gyroYoke01_resized01" material "Wood (Oak)"
